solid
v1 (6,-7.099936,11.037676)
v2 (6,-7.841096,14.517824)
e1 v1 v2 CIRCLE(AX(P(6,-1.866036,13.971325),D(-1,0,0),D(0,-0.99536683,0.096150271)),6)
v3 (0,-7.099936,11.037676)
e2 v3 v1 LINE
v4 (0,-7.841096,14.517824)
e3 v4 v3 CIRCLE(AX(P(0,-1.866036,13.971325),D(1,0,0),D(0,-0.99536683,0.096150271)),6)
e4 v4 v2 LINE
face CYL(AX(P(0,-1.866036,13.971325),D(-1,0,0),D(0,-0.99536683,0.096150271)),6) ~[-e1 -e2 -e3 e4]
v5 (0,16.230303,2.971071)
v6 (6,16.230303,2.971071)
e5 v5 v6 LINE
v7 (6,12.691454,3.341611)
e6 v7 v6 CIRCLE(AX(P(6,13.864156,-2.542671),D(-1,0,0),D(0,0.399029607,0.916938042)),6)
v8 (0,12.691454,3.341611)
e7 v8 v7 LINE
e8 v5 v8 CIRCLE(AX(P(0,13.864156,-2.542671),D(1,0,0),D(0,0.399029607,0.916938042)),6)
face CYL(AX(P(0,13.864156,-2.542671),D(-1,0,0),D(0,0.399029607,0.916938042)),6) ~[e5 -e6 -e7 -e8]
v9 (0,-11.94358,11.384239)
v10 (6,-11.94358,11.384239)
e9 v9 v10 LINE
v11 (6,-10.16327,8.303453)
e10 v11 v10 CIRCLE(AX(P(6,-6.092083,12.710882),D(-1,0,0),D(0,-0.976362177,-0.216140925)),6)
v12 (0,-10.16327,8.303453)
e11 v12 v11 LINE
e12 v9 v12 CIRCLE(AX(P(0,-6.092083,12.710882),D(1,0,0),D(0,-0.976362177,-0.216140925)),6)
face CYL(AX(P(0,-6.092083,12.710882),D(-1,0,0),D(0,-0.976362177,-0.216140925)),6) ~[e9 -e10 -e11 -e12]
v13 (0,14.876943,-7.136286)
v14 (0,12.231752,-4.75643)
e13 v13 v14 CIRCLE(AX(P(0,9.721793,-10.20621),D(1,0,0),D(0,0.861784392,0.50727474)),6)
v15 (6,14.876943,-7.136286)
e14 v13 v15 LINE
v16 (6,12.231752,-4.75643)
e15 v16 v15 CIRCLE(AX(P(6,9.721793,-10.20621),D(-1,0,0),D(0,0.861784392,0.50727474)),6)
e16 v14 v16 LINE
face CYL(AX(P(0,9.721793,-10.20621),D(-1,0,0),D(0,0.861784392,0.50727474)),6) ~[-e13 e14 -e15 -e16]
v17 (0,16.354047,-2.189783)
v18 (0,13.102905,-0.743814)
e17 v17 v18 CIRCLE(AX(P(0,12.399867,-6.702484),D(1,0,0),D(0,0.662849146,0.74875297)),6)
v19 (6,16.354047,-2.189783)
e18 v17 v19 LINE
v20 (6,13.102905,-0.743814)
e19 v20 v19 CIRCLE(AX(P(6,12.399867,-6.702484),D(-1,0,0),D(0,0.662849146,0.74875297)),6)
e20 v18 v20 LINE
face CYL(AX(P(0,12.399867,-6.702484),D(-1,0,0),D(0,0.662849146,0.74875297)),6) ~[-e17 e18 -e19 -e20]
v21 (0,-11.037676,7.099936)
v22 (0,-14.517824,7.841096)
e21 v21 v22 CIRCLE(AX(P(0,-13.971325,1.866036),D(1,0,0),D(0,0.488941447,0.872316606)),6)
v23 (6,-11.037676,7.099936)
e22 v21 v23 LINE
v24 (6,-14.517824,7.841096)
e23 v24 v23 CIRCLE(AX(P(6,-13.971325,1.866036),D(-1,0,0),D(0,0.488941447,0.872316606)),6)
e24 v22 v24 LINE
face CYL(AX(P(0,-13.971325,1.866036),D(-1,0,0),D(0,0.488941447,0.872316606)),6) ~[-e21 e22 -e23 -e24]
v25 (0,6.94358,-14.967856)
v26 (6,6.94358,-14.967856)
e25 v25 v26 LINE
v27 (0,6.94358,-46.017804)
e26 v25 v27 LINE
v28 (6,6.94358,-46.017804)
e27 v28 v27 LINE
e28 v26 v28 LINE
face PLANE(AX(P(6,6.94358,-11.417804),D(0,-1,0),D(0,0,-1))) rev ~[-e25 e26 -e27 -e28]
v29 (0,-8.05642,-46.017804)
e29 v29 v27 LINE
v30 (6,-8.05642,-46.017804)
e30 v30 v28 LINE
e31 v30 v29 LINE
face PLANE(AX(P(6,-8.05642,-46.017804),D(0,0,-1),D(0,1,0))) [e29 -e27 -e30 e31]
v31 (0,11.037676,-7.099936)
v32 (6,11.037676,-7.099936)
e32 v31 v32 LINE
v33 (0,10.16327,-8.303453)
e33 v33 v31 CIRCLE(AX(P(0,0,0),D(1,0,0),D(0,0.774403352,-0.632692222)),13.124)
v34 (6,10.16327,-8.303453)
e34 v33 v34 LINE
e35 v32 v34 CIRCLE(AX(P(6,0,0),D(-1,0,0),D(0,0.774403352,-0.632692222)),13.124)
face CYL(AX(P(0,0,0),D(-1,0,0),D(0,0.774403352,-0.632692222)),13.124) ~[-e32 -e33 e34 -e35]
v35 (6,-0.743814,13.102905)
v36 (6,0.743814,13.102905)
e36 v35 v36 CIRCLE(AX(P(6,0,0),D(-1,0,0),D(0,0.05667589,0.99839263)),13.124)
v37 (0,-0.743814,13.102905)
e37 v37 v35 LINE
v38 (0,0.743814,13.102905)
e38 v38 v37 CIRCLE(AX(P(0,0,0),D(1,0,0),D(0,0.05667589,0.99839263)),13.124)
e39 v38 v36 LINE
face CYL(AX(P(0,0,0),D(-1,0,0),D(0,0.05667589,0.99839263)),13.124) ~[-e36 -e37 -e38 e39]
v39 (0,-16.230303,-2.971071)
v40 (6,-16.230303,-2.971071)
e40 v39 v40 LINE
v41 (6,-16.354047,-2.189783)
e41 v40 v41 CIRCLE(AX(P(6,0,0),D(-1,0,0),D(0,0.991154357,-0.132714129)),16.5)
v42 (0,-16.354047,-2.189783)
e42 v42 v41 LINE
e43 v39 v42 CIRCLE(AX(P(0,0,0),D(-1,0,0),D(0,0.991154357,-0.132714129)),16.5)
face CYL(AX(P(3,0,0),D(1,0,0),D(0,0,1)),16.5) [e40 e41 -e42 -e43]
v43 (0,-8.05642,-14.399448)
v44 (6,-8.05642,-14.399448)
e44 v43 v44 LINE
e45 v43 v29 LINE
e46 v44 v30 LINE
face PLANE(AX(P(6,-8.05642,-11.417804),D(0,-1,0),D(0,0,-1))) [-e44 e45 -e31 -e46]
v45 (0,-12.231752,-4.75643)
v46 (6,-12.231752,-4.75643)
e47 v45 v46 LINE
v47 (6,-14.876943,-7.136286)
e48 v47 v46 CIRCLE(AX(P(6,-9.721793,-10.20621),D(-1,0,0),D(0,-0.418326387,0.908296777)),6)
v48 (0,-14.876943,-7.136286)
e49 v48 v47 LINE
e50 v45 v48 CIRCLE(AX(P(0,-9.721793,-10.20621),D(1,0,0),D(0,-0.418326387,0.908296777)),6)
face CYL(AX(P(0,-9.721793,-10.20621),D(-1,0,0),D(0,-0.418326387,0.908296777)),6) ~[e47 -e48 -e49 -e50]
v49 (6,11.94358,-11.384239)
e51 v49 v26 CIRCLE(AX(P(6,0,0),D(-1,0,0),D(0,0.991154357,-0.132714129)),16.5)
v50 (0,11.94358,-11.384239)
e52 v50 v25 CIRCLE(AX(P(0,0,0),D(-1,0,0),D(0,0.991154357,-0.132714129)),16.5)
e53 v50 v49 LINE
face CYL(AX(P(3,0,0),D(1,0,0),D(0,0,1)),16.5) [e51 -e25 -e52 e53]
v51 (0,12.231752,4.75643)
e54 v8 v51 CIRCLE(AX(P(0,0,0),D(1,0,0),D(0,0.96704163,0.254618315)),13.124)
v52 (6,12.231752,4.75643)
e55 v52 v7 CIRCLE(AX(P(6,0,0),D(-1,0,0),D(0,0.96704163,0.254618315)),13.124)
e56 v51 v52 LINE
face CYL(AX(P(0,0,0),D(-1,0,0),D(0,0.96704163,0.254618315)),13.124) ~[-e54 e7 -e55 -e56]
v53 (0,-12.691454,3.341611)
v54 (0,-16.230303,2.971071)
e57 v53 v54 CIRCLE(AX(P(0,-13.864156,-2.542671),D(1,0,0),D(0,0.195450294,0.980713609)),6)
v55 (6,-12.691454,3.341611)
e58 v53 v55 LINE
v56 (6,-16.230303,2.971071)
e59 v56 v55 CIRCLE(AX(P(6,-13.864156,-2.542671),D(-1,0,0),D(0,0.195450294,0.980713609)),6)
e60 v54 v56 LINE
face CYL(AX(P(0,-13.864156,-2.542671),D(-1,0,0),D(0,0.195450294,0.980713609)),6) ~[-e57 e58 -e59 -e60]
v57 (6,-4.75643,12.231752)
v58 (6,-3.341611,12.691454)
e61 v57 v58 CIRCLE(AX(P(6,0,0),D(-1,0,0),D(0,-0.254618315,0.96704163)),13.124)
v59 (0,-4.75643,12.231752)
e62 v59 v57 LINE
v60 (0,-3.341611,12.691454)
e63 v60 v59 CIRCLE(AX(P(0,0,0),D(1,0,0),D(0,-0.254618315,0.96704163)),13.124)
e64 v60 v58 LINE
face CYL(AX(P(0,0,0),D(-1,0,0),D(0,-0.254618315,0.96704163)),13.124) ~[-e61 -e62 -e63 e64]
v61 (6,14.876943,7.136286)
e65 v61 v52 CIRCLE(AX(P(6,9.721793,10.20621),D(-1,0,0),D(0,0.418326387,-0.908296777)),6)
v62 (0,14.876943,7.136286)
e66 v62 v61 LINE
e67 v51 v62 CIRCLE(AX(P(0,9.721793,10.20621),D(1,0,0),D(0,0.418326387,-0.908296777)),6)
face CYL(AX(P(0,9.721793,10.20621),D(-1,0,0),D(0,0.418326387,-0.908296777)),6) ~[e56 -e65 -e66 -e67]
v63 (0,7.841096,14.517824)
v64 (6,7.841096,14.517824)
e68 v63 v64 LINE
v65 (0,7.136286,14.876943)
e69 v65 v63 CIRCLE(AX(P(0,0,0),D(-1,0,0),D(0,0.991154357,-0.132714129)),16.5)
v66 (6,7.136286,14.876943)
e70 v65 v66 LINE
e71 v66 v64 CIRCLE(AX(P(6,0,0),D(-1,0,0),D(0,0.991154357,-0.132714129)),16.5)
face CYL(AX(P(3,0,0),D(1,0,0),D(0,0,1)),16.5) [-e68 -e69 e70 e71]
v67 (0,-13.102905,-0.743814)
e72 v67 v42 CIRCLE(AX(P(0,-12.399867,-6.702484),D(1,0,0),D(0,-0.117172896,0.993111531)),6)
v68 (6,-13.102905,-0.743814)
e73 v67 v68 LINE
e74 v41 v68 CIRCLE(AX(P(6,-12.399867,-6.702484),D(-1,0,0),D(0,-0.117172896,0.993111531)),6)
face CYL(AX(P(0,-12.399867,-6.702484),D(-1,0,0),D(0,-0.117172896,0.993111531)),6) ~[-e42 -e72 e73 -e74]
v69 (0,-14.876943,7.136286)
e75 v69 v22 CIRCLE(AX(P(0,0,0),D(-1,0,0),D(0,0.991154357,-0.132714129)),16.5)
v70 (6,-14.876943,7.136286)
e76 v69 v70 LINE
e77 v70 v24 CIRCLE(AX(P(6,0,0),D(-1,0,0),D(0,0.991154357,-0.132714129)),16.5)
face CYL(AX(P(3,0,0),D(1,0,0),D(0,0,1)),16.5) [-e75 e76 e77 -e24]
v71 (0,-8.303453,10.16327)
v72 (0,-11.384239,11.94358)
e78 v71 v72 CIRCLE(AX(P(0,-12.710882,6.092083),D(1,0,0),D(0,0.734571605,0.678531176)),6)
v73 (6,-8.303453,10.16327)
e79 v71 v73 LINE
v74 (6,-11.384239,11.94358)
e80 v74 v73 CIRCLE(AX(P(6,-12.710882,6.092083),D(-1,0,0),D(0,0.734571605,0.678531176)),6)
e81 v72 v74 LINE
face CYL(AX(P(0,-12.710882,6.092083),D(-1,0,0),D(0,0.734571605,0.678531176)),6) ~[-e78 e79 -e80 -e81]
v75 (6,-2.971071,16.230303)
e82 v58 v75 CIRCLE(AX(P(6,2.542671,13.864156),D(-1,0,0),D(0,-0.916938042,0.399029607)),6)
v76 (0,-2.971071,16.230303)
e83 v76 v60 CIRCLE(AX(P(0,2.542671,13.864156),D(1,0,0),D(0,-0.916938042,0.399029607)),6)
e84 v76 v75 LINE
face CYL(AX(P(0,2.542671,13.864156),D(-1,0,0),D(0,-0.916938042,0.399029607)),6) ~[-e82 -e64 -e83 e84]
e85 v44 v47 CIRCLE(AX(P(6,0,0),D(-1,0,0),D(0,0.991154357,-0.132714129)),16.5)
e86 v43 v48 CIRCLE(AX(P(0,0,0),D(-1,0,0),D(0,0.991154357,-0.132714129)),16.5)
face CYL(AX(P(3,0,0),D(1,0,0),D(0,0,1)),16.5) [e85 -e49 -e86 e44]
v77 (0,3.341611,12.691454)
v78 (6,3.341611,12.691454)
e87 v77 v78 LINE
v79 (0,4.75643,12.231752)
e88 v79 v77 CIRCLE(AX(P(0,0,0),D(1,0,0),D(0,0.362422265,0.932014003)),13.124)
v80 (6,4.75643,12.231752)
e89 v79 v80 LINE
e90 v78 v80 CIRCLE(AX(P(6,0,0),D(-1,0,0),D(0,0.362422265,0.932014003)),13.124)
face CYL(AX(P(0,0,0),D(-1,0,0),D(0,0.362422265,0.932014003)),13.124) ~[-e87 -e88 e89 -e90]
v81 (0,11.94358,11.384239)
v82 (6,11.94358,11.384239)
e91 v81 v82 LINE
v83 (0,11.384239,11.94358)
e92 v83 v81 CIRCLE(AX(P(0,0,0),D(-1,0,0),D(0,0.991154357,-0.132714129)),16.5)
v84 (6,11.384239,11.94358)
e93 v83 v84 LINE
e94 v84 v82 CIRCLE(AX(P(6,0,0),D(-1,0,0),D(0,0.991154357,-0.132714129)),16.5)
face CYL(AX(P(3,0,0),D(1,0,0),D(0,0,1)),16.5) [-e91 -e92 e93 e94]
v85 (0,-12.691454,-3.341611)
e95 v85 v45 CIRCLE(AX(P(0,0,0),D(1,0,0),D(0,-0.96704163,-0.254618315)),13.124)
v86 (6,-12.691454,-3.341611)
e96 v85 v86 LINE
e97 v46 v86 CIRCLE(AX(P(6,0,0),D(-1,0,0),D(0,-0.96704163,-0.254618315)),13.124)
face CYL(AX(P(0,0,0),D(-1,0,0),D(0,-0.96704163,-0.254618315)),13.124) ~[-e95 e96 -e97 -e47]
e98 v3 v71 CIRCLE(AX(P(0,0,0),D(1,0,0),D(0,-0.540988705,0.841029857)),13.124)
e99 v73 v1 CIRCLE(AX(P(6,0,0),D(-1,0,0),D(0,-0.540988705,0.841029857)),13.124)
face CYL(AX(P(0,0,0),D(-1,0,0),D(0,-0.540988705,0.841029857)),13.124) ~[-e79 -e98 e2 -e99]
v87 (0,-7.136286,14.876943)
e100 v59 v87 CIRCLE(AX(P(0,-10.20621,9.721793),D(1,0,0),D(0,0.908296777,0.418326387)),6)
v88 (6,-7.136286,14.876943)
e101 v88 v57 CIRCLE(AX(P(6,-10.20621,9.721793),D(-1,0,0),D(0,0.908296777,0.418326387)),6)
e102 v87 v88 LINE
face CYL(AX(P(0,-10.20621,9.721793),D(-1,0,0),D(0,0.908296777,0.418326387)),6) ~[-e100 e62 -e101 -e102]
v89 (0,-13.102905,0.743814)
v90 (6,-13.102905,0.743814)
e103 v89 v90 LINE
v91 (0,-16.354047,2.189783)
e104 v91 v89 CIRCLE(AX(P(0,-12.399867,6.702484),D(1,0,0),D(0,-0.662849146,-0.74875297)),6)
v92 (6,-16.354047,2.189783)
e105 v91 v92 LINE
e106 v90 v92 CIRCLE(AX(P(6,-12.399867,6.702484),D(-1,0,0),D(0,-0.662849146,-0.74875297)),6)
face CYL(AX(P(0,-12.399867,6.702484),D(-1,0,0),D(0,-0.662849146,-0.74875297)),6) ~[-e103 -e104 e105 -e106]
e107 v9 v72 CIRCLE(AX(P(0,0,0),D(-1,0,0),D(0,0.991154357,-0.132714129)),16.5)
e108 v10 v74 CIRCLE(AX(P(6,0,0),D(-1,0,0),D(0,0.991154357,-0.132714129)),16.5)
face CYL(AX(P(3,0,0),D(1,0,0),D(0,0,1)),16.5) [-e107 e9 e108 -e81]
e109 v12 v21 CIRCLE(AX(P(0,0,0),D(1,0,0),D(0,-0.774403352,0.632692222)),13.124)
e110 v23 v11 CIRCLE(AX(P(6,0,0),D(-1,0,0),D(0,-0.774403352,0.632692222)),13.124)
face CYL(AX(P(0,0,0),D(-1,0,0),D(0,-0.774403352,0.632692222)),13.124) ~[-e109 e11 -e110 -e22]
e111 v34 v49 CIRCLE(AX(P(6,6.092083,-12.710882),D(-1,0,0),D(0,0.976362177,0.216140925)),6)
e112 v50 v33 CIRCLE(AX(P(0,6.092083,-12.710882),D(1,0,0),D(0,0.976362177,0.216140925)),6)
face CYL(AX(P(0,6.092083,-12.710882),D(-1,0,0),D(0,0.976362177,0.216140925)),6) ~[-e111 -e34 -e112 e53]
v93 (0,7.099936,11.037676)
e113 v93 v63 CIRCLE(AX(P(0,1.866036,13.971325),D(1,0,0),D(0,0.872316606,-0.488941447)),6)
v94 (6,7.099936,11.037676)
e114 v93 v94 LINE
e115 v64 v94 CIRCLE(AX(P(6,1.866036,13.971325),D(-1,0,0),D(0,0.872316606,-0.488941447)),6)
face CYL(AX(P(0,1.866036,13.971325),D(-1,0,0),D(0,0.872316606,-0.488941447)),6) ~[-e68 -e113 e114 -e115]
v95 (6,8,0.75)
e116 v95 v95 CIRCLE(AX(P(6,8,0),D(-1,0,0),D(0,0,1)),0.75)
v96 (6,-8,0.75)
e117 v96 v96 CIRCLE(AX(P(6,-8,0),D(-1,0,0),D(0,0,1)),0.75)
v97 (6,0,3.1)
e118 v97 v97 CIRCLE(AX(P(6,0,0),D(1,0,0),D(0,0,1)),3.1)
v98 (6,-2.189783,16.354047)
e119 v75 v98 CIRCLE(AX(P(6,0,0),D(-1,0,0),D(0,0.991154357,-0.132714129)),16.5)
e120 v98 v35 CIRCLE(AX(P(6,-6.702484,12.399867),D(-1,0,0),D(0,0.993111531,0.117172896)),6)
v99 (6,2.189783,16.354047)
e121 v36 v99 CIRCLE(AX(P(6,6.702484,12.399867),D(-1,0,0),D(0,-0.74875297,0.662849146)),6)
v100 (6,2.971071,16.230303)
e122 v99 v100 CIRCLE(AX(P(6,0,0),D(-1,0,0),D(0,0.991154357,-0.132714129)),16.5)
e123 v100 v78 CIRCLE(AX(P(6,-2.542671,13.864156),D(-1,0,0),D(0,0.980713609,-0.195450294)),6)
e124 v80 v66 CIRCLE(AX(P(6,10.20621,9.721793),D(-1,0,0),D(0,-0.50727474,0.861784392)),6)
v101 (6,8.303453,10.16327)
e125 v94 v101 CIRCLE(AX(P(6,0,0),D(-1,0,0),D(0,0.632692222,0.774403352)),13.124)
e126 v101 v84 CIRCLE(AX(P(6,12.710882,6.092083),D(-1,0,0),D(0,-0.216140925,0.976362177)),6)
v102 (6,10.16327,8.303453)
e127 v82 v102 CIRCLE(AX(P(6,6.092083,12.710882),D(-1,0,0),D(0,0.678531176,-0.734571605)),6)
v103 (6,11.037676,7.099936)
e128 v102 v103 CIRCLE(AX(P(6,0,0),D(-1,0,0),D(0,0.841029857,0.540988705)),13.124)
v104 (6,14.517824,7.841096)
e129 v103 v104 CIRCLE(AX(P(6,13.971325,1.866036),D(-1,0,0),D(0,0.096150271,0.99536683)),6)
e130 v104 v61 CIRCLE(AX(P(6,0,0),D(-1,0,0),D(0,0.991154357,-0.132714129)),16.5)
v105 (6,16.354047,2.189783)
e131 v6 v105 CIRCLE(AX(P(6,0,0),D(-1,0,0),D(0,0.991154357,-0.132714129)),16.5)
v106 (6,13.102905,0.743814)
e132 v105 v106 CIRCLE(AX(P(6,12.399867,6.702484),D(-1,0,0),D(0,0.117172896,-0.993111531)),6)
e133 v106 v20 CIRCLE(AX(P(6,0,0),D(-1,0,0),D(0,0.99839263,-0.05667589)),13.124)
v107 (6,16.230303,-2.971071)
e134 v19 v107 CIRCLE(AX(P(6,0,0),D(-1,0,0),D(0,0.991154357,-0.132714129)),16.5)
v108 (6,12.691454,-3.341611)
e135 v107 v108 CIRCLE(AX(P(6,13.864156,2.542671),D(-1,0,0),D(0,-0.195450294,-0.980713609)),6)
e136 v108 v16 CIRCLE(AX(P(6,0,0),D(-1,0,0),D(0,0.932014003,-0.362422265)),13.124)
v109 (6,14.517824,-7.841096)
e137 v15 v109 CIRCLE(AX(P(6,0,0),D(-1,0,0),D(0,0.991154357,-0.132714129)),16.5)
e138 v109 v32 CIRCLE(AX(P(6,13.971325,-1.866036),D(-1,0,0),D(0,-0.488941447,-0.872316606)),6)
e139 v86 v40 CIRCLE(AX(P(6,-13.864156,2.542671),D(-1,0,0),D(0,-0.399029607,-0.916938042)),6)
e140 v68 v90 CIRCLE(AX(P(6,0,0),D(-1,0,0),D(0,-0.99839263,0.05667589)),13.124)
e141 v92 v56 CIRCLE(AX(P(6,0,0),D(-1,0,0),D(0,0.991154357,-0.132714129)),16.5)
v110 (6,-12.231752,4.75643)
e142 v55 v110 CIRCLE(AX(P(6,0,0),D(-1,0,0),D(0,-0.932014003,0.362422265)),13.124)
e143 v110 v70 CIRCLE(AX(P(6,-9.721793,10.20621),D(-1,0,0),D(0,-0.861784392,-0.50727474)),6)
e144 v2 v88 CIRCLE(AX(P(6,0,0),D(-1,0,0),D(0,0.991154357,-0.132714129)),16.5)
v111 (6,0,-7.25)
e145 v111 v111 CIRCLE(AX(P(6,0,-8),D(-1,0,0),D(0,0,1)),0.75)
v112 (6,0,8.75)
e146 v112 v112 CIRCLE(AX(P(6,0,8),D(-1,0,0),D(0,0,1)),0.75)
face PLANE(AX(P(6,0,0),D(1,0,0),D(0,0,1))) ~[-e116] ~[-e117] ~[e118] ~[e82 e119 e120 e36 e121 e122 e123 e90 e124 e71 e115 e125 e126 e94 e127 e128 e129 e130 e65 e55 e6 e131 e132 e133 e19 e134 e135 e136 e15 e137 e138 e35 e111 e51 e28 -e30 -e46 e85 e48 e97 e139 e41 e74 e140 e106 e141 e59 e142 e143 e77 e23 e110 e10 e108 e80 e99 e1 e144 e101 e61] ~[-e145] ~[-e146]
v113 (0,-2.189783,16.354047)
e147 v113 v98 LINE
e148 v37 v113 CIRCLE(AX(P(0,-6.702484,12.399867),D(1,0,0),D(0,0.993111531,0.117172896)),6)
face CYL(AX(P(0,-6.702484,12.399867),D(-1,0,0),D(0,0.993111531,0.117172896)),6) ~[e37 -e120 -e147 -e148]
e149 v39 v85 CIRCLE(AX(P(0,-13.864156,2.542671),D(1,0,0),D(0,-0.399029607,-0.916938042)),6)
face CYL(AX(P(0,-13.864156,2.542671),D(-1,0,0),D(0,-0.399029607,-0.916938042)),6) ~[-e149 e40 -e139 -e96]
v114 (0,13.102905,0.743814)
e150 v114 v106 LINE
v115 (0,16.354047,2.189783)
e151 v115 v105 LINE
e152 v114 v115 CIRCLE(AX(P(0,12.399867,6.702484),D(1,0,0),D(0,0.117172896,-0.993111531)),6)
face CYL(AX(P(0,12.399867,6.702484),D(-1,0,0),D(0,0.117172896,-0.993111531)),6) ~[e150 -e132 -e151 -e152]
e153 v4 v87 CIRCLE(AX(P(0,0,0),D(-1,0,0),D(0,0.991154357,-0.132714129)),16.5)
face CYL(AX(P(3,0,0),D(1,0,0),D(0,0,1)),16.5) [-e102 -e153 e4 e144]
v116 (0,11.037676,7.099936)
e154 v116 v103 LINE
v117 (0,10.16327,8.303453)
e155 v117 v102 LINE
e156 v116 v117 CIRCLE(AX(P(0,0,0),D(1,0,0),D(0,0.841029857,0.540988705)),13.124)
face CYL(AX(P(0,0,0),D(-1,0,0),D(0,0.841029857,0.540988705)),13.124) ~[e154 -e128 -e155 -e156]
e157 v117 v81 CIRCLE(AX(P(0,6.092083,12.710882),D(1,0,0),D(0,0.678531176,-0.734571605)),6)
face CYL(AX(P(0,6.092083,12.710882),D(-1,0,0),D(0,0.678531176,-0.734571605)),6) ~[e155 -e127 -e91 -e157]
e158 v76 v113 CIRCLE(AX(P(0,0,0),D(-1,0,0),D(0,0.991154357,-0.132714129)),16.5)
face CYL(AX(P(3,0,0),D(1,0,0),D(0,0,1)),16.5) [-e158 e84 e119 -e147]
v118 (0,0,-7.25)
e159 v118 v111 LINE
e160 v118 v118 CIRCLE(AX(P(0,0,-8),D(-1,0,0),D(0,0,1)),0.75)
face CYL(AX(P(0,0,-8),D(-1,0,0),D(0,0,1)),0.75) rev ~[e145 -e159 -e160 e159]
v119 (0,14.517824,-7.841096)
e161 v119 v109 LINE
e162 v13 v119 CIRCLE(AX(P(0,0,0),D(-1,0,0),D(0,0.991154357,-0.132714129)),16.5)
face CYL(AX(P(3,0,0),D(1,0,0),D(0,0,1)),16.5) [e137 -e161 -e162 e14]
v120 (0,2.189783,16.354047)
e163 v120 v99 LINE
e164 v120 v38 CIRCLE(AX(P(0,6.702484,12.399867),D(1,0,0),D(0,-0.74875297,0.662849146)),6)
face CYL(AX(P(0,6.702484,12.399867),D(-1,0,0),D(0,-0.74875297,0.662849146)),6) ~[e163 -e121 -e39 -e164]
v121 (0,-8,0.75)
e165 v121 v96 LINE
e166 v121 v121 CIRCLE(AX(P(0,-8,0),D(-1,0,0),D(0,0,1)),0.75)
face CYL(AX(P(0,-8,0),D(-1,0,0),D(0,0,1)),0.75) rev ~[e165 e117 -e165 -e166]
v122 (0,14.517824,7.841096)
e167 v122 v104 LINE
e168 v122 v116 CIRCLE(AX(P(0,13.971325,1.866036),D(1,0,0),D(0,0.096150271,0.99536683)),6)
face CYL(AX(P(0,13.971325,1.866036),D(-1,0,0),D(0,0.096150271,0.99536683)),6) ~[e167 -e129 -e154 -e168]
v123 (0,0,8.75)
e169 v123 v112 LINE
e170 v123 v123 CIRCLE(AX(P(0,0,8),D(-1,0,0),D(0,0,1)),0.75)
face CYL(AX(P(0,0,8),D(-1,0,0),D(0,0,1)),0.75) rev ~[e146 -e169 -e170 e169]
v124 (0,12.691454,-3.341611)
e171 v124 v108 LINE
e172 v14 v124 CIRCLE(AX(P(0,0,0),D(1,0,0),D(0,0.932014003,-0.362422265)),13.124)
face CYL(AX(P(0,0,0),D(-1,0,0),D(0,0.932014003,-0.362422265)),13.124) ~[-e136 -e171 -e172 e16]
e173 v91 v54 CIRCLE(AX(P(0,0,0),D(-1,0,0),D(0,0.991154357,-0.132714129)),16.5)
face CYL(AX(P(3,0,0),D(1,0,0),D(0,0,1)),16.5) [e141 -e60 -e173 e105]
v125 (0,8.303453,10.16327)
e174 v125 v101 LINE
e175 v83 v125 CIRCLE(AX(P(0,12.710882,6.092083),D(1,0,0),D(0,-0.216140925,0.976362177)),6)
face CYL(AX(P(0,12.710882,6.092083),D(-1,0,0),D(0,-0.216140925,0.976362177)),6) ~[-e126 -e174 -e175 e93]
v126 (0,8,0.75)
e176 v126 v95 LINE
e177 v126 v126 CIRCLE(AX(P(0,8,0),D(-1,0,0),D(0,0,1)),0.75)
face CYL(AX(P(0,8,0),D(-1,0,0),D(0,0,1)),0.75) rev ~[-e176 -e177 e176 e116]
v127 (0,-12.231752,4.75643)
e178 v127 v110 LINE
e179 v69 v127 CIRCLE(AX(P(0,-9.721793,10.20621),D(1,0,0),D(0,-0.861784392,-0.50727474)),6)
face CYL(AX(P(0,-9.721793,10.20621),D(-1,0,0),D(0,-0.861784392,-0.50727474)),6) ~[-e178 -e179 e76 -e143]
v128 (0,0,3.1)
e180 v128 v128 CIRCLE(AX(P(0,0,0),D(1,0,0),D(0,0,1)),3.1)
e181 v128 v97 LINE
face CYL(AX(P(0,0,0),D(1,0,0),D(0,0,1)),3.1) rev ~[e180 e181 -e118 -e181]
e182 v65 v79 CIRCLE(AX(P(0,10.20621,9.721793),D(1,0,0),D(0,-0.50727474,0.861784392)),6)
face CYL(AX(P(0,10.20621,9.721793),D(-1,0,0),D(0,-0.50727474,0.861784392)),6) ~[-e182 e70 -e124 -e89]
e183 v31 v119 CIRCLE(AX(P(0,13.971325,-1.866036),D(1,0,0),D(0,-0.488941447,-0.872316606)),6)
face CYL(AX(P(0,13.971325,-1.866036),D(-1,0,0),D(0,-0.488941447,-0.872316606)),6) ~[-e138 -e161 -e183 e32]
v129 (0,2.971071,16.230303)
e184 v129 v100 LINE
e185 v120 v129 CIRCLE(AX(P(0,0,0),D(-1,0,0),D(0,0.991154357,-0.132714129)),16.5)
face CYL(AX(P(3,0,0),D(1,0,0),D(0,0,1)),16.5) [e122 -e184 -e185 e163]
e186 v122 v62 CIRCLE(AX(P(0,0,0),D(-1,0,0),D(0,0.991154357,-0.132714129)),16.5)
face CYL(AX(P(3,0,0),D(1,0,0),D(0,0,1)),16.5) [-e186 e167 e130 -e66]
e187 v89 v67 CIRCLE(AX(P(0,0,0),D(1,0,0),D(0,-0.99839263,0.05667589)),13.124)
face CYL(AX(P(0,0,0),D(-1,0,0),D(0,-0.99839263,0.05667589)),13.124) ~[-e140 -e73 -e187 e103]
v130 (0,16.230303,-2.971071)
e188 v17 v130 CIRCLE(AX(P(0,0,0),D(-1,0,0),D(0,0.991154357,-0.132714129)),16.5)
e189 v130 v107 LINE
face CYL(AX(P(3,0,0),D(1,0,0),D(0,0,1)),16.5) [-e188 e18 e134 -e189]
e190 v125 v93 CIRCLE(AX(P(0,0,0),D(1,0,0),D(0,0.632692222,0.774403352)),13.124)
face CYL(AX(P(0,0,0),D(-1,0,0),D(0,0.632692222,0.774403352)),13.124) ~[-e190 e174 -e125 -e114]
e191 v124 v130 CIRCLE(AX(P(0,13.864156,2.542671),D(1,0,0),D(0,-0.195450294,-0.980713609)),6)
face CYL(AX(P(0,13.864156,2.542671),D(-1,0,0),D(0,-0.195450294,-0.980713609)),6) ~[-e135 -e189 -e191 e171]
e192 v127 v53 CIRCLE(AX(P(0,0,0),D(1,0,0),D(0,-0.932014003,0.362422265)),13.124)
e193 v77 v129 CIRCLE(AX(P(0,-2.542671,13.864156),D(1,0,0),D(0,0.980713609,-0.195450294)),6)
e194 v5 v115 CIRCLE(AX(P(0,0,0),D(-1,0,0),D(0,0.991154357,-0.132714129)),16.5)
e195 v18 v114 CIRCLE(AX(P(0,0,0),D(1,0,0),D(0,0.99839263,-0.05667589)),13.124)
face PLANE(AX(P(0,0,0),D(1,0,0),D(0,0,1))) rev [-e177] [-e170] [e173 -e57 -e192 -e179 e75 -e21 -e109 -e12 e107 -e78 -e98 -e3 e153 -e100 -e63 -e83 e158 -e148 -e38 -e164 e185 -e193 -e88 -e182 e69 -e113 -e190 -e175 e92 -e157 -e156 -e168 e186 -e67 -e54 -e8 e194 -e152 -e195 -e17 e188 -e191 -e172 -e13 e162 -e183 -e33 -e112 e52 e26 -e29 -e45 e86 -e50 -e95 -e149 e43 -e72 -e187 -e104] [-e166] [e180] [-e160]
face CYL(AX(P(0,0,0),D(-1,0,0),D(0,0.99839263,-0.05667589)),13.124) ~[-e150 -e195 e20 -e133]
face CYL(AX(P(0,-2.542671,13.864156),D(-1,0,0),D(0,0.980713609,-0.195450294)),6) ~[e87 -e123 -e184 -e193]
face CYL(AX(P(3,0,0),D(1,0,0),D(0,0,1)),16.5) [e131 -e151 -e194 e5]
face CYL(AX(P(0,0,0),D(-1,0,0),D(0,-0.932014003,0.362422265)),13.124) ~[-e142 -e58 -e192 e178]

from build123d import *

# Parameters (mm, degrees)
BASPROSKE_W             = 6
BASPROSKE_H             = 16.5
TOOTHCUT_DEPTH          = 25.093567606
TEETHCUTS_COUNT         = 20
TEETHCUTS_ANGLE         = 342
BORSKE_R                = 3.1
BORE_DEPTH              = 50.0000508
ESQUISSE2_W             = 34.6
ESQUISSE2_H             = 15
BOSS_EXTRU_1_DEPTH      = 6
ESQUISSE3_R             = 0.75
ENL_V_MAT_EXTRU_1_DEPTH = 6


with BuildPart() as part:
    # BasProSke → Base-Revolve (revolve)
    with BuildSketch(Plane(origin=(0, 0, 0), x_dir=(1, 0, 0), z_dir=(0, 1, 0)), mode=Mode.PRIVATE) as base_revolve_sk:
        with Locations((3, 8.25)):
            Rectangle(BASPROSKE_W, BASPROSKE_H)
    revolve(base_revolve_sk.sketch.rotate(Axis((-10, 0, 0), (1, 0, 0)), 180), axis=Axis((-10, 0, 0), (1, 0, 0)))

    # TooCutSke → ToothCut (cut, through all)
    with BuildSketch(Plane(origin=(0, 0, 0), x_dir=(0, 0, -1), z_dir=(1, 0, 0))):
        with BuildLine():
            ThreePointArc((0.74381438, 13.102904875), (0, 13.124), (-0.74381438, 13.102904875))
            ThreePointArc((-0.74381438, 13.102904875), (-1.226473103, 14.852072512), (-2.209965745, 16.376962373))
            ThreePointArc((-2.209965745, 16.376962373), (0, 16.5254), (2.209965745, 16.376962373))
            ThreePointArc((2.209965745, 16.376962373), (1.226473103, 14.852072512), (0.74381438, 13.102904875))
        make_face()
    toothcut = extrude(amount=TOOTHCUT_DEPTH, mode=Mode.SUBTRACT)

    # TeethCuts: ToothCut ×20 about axis, 6 skipped
    teethcuts_axis = Axis((-10, 0, 0), (1, 0, 0))
    add([toothcut.rotate(teethcuts_axis, i * TEETHCUTS_ANGLE / (TEETHCUTS_COUNT - 1)) for i in range(1, TEETHCUTS_COUNT) if i not in (12, 13, 14, 15, 16, 17)], mode=Mode.SUBTRACT)

    # BorSke → Bore (cut, symmetric)
    with BuildSketch(Plane(origin=(0, 0, 0), x_dir=(0, 0, -1), z_dir=(1, 0, 0))):
        with Locations(Location((0, 0, 0), (0, 0, 180))):
            Circle(BORSKE_R)
    extrude(amount=BORE_DEPTH, both=True, mode=Mode.SUBTRACT)

    # Esquisse2 → Boss.-Extru.1 (add)
    with BuildSketch(Plane(origin=(6, 0, 0), x_dir=(0, 0, -1), z_dir=(1, 0, 0))):
        with Locations((28.717803782, -0.556420359)):
            Rectangle(ESQUISSE2_W, ESQUISSE2_H)
    extrude(amount=-BOSS_EXTRU_1_DEPTH)

    # Esquisse3 → Enlèv. mat.-Extru.1 (cut)
    with BuildSketch(Plane.ZY):
        with Locations((8, 0)):
            Circle(ESQUISSE3_R)
        with Locations((0, 8)):
            Circle(ESQUISSE3_R)
        with Locations((0, -8)):
            Circle(ESQUISSE3_R)
        with Locations((-8, 0)):
            Circle(ESQUISSE3_R)
    extrude(amount=-ENL_V_MAT_EXTRU_1_DEPTH, mode=Mode.SUBTRACT)


solid = part.part
